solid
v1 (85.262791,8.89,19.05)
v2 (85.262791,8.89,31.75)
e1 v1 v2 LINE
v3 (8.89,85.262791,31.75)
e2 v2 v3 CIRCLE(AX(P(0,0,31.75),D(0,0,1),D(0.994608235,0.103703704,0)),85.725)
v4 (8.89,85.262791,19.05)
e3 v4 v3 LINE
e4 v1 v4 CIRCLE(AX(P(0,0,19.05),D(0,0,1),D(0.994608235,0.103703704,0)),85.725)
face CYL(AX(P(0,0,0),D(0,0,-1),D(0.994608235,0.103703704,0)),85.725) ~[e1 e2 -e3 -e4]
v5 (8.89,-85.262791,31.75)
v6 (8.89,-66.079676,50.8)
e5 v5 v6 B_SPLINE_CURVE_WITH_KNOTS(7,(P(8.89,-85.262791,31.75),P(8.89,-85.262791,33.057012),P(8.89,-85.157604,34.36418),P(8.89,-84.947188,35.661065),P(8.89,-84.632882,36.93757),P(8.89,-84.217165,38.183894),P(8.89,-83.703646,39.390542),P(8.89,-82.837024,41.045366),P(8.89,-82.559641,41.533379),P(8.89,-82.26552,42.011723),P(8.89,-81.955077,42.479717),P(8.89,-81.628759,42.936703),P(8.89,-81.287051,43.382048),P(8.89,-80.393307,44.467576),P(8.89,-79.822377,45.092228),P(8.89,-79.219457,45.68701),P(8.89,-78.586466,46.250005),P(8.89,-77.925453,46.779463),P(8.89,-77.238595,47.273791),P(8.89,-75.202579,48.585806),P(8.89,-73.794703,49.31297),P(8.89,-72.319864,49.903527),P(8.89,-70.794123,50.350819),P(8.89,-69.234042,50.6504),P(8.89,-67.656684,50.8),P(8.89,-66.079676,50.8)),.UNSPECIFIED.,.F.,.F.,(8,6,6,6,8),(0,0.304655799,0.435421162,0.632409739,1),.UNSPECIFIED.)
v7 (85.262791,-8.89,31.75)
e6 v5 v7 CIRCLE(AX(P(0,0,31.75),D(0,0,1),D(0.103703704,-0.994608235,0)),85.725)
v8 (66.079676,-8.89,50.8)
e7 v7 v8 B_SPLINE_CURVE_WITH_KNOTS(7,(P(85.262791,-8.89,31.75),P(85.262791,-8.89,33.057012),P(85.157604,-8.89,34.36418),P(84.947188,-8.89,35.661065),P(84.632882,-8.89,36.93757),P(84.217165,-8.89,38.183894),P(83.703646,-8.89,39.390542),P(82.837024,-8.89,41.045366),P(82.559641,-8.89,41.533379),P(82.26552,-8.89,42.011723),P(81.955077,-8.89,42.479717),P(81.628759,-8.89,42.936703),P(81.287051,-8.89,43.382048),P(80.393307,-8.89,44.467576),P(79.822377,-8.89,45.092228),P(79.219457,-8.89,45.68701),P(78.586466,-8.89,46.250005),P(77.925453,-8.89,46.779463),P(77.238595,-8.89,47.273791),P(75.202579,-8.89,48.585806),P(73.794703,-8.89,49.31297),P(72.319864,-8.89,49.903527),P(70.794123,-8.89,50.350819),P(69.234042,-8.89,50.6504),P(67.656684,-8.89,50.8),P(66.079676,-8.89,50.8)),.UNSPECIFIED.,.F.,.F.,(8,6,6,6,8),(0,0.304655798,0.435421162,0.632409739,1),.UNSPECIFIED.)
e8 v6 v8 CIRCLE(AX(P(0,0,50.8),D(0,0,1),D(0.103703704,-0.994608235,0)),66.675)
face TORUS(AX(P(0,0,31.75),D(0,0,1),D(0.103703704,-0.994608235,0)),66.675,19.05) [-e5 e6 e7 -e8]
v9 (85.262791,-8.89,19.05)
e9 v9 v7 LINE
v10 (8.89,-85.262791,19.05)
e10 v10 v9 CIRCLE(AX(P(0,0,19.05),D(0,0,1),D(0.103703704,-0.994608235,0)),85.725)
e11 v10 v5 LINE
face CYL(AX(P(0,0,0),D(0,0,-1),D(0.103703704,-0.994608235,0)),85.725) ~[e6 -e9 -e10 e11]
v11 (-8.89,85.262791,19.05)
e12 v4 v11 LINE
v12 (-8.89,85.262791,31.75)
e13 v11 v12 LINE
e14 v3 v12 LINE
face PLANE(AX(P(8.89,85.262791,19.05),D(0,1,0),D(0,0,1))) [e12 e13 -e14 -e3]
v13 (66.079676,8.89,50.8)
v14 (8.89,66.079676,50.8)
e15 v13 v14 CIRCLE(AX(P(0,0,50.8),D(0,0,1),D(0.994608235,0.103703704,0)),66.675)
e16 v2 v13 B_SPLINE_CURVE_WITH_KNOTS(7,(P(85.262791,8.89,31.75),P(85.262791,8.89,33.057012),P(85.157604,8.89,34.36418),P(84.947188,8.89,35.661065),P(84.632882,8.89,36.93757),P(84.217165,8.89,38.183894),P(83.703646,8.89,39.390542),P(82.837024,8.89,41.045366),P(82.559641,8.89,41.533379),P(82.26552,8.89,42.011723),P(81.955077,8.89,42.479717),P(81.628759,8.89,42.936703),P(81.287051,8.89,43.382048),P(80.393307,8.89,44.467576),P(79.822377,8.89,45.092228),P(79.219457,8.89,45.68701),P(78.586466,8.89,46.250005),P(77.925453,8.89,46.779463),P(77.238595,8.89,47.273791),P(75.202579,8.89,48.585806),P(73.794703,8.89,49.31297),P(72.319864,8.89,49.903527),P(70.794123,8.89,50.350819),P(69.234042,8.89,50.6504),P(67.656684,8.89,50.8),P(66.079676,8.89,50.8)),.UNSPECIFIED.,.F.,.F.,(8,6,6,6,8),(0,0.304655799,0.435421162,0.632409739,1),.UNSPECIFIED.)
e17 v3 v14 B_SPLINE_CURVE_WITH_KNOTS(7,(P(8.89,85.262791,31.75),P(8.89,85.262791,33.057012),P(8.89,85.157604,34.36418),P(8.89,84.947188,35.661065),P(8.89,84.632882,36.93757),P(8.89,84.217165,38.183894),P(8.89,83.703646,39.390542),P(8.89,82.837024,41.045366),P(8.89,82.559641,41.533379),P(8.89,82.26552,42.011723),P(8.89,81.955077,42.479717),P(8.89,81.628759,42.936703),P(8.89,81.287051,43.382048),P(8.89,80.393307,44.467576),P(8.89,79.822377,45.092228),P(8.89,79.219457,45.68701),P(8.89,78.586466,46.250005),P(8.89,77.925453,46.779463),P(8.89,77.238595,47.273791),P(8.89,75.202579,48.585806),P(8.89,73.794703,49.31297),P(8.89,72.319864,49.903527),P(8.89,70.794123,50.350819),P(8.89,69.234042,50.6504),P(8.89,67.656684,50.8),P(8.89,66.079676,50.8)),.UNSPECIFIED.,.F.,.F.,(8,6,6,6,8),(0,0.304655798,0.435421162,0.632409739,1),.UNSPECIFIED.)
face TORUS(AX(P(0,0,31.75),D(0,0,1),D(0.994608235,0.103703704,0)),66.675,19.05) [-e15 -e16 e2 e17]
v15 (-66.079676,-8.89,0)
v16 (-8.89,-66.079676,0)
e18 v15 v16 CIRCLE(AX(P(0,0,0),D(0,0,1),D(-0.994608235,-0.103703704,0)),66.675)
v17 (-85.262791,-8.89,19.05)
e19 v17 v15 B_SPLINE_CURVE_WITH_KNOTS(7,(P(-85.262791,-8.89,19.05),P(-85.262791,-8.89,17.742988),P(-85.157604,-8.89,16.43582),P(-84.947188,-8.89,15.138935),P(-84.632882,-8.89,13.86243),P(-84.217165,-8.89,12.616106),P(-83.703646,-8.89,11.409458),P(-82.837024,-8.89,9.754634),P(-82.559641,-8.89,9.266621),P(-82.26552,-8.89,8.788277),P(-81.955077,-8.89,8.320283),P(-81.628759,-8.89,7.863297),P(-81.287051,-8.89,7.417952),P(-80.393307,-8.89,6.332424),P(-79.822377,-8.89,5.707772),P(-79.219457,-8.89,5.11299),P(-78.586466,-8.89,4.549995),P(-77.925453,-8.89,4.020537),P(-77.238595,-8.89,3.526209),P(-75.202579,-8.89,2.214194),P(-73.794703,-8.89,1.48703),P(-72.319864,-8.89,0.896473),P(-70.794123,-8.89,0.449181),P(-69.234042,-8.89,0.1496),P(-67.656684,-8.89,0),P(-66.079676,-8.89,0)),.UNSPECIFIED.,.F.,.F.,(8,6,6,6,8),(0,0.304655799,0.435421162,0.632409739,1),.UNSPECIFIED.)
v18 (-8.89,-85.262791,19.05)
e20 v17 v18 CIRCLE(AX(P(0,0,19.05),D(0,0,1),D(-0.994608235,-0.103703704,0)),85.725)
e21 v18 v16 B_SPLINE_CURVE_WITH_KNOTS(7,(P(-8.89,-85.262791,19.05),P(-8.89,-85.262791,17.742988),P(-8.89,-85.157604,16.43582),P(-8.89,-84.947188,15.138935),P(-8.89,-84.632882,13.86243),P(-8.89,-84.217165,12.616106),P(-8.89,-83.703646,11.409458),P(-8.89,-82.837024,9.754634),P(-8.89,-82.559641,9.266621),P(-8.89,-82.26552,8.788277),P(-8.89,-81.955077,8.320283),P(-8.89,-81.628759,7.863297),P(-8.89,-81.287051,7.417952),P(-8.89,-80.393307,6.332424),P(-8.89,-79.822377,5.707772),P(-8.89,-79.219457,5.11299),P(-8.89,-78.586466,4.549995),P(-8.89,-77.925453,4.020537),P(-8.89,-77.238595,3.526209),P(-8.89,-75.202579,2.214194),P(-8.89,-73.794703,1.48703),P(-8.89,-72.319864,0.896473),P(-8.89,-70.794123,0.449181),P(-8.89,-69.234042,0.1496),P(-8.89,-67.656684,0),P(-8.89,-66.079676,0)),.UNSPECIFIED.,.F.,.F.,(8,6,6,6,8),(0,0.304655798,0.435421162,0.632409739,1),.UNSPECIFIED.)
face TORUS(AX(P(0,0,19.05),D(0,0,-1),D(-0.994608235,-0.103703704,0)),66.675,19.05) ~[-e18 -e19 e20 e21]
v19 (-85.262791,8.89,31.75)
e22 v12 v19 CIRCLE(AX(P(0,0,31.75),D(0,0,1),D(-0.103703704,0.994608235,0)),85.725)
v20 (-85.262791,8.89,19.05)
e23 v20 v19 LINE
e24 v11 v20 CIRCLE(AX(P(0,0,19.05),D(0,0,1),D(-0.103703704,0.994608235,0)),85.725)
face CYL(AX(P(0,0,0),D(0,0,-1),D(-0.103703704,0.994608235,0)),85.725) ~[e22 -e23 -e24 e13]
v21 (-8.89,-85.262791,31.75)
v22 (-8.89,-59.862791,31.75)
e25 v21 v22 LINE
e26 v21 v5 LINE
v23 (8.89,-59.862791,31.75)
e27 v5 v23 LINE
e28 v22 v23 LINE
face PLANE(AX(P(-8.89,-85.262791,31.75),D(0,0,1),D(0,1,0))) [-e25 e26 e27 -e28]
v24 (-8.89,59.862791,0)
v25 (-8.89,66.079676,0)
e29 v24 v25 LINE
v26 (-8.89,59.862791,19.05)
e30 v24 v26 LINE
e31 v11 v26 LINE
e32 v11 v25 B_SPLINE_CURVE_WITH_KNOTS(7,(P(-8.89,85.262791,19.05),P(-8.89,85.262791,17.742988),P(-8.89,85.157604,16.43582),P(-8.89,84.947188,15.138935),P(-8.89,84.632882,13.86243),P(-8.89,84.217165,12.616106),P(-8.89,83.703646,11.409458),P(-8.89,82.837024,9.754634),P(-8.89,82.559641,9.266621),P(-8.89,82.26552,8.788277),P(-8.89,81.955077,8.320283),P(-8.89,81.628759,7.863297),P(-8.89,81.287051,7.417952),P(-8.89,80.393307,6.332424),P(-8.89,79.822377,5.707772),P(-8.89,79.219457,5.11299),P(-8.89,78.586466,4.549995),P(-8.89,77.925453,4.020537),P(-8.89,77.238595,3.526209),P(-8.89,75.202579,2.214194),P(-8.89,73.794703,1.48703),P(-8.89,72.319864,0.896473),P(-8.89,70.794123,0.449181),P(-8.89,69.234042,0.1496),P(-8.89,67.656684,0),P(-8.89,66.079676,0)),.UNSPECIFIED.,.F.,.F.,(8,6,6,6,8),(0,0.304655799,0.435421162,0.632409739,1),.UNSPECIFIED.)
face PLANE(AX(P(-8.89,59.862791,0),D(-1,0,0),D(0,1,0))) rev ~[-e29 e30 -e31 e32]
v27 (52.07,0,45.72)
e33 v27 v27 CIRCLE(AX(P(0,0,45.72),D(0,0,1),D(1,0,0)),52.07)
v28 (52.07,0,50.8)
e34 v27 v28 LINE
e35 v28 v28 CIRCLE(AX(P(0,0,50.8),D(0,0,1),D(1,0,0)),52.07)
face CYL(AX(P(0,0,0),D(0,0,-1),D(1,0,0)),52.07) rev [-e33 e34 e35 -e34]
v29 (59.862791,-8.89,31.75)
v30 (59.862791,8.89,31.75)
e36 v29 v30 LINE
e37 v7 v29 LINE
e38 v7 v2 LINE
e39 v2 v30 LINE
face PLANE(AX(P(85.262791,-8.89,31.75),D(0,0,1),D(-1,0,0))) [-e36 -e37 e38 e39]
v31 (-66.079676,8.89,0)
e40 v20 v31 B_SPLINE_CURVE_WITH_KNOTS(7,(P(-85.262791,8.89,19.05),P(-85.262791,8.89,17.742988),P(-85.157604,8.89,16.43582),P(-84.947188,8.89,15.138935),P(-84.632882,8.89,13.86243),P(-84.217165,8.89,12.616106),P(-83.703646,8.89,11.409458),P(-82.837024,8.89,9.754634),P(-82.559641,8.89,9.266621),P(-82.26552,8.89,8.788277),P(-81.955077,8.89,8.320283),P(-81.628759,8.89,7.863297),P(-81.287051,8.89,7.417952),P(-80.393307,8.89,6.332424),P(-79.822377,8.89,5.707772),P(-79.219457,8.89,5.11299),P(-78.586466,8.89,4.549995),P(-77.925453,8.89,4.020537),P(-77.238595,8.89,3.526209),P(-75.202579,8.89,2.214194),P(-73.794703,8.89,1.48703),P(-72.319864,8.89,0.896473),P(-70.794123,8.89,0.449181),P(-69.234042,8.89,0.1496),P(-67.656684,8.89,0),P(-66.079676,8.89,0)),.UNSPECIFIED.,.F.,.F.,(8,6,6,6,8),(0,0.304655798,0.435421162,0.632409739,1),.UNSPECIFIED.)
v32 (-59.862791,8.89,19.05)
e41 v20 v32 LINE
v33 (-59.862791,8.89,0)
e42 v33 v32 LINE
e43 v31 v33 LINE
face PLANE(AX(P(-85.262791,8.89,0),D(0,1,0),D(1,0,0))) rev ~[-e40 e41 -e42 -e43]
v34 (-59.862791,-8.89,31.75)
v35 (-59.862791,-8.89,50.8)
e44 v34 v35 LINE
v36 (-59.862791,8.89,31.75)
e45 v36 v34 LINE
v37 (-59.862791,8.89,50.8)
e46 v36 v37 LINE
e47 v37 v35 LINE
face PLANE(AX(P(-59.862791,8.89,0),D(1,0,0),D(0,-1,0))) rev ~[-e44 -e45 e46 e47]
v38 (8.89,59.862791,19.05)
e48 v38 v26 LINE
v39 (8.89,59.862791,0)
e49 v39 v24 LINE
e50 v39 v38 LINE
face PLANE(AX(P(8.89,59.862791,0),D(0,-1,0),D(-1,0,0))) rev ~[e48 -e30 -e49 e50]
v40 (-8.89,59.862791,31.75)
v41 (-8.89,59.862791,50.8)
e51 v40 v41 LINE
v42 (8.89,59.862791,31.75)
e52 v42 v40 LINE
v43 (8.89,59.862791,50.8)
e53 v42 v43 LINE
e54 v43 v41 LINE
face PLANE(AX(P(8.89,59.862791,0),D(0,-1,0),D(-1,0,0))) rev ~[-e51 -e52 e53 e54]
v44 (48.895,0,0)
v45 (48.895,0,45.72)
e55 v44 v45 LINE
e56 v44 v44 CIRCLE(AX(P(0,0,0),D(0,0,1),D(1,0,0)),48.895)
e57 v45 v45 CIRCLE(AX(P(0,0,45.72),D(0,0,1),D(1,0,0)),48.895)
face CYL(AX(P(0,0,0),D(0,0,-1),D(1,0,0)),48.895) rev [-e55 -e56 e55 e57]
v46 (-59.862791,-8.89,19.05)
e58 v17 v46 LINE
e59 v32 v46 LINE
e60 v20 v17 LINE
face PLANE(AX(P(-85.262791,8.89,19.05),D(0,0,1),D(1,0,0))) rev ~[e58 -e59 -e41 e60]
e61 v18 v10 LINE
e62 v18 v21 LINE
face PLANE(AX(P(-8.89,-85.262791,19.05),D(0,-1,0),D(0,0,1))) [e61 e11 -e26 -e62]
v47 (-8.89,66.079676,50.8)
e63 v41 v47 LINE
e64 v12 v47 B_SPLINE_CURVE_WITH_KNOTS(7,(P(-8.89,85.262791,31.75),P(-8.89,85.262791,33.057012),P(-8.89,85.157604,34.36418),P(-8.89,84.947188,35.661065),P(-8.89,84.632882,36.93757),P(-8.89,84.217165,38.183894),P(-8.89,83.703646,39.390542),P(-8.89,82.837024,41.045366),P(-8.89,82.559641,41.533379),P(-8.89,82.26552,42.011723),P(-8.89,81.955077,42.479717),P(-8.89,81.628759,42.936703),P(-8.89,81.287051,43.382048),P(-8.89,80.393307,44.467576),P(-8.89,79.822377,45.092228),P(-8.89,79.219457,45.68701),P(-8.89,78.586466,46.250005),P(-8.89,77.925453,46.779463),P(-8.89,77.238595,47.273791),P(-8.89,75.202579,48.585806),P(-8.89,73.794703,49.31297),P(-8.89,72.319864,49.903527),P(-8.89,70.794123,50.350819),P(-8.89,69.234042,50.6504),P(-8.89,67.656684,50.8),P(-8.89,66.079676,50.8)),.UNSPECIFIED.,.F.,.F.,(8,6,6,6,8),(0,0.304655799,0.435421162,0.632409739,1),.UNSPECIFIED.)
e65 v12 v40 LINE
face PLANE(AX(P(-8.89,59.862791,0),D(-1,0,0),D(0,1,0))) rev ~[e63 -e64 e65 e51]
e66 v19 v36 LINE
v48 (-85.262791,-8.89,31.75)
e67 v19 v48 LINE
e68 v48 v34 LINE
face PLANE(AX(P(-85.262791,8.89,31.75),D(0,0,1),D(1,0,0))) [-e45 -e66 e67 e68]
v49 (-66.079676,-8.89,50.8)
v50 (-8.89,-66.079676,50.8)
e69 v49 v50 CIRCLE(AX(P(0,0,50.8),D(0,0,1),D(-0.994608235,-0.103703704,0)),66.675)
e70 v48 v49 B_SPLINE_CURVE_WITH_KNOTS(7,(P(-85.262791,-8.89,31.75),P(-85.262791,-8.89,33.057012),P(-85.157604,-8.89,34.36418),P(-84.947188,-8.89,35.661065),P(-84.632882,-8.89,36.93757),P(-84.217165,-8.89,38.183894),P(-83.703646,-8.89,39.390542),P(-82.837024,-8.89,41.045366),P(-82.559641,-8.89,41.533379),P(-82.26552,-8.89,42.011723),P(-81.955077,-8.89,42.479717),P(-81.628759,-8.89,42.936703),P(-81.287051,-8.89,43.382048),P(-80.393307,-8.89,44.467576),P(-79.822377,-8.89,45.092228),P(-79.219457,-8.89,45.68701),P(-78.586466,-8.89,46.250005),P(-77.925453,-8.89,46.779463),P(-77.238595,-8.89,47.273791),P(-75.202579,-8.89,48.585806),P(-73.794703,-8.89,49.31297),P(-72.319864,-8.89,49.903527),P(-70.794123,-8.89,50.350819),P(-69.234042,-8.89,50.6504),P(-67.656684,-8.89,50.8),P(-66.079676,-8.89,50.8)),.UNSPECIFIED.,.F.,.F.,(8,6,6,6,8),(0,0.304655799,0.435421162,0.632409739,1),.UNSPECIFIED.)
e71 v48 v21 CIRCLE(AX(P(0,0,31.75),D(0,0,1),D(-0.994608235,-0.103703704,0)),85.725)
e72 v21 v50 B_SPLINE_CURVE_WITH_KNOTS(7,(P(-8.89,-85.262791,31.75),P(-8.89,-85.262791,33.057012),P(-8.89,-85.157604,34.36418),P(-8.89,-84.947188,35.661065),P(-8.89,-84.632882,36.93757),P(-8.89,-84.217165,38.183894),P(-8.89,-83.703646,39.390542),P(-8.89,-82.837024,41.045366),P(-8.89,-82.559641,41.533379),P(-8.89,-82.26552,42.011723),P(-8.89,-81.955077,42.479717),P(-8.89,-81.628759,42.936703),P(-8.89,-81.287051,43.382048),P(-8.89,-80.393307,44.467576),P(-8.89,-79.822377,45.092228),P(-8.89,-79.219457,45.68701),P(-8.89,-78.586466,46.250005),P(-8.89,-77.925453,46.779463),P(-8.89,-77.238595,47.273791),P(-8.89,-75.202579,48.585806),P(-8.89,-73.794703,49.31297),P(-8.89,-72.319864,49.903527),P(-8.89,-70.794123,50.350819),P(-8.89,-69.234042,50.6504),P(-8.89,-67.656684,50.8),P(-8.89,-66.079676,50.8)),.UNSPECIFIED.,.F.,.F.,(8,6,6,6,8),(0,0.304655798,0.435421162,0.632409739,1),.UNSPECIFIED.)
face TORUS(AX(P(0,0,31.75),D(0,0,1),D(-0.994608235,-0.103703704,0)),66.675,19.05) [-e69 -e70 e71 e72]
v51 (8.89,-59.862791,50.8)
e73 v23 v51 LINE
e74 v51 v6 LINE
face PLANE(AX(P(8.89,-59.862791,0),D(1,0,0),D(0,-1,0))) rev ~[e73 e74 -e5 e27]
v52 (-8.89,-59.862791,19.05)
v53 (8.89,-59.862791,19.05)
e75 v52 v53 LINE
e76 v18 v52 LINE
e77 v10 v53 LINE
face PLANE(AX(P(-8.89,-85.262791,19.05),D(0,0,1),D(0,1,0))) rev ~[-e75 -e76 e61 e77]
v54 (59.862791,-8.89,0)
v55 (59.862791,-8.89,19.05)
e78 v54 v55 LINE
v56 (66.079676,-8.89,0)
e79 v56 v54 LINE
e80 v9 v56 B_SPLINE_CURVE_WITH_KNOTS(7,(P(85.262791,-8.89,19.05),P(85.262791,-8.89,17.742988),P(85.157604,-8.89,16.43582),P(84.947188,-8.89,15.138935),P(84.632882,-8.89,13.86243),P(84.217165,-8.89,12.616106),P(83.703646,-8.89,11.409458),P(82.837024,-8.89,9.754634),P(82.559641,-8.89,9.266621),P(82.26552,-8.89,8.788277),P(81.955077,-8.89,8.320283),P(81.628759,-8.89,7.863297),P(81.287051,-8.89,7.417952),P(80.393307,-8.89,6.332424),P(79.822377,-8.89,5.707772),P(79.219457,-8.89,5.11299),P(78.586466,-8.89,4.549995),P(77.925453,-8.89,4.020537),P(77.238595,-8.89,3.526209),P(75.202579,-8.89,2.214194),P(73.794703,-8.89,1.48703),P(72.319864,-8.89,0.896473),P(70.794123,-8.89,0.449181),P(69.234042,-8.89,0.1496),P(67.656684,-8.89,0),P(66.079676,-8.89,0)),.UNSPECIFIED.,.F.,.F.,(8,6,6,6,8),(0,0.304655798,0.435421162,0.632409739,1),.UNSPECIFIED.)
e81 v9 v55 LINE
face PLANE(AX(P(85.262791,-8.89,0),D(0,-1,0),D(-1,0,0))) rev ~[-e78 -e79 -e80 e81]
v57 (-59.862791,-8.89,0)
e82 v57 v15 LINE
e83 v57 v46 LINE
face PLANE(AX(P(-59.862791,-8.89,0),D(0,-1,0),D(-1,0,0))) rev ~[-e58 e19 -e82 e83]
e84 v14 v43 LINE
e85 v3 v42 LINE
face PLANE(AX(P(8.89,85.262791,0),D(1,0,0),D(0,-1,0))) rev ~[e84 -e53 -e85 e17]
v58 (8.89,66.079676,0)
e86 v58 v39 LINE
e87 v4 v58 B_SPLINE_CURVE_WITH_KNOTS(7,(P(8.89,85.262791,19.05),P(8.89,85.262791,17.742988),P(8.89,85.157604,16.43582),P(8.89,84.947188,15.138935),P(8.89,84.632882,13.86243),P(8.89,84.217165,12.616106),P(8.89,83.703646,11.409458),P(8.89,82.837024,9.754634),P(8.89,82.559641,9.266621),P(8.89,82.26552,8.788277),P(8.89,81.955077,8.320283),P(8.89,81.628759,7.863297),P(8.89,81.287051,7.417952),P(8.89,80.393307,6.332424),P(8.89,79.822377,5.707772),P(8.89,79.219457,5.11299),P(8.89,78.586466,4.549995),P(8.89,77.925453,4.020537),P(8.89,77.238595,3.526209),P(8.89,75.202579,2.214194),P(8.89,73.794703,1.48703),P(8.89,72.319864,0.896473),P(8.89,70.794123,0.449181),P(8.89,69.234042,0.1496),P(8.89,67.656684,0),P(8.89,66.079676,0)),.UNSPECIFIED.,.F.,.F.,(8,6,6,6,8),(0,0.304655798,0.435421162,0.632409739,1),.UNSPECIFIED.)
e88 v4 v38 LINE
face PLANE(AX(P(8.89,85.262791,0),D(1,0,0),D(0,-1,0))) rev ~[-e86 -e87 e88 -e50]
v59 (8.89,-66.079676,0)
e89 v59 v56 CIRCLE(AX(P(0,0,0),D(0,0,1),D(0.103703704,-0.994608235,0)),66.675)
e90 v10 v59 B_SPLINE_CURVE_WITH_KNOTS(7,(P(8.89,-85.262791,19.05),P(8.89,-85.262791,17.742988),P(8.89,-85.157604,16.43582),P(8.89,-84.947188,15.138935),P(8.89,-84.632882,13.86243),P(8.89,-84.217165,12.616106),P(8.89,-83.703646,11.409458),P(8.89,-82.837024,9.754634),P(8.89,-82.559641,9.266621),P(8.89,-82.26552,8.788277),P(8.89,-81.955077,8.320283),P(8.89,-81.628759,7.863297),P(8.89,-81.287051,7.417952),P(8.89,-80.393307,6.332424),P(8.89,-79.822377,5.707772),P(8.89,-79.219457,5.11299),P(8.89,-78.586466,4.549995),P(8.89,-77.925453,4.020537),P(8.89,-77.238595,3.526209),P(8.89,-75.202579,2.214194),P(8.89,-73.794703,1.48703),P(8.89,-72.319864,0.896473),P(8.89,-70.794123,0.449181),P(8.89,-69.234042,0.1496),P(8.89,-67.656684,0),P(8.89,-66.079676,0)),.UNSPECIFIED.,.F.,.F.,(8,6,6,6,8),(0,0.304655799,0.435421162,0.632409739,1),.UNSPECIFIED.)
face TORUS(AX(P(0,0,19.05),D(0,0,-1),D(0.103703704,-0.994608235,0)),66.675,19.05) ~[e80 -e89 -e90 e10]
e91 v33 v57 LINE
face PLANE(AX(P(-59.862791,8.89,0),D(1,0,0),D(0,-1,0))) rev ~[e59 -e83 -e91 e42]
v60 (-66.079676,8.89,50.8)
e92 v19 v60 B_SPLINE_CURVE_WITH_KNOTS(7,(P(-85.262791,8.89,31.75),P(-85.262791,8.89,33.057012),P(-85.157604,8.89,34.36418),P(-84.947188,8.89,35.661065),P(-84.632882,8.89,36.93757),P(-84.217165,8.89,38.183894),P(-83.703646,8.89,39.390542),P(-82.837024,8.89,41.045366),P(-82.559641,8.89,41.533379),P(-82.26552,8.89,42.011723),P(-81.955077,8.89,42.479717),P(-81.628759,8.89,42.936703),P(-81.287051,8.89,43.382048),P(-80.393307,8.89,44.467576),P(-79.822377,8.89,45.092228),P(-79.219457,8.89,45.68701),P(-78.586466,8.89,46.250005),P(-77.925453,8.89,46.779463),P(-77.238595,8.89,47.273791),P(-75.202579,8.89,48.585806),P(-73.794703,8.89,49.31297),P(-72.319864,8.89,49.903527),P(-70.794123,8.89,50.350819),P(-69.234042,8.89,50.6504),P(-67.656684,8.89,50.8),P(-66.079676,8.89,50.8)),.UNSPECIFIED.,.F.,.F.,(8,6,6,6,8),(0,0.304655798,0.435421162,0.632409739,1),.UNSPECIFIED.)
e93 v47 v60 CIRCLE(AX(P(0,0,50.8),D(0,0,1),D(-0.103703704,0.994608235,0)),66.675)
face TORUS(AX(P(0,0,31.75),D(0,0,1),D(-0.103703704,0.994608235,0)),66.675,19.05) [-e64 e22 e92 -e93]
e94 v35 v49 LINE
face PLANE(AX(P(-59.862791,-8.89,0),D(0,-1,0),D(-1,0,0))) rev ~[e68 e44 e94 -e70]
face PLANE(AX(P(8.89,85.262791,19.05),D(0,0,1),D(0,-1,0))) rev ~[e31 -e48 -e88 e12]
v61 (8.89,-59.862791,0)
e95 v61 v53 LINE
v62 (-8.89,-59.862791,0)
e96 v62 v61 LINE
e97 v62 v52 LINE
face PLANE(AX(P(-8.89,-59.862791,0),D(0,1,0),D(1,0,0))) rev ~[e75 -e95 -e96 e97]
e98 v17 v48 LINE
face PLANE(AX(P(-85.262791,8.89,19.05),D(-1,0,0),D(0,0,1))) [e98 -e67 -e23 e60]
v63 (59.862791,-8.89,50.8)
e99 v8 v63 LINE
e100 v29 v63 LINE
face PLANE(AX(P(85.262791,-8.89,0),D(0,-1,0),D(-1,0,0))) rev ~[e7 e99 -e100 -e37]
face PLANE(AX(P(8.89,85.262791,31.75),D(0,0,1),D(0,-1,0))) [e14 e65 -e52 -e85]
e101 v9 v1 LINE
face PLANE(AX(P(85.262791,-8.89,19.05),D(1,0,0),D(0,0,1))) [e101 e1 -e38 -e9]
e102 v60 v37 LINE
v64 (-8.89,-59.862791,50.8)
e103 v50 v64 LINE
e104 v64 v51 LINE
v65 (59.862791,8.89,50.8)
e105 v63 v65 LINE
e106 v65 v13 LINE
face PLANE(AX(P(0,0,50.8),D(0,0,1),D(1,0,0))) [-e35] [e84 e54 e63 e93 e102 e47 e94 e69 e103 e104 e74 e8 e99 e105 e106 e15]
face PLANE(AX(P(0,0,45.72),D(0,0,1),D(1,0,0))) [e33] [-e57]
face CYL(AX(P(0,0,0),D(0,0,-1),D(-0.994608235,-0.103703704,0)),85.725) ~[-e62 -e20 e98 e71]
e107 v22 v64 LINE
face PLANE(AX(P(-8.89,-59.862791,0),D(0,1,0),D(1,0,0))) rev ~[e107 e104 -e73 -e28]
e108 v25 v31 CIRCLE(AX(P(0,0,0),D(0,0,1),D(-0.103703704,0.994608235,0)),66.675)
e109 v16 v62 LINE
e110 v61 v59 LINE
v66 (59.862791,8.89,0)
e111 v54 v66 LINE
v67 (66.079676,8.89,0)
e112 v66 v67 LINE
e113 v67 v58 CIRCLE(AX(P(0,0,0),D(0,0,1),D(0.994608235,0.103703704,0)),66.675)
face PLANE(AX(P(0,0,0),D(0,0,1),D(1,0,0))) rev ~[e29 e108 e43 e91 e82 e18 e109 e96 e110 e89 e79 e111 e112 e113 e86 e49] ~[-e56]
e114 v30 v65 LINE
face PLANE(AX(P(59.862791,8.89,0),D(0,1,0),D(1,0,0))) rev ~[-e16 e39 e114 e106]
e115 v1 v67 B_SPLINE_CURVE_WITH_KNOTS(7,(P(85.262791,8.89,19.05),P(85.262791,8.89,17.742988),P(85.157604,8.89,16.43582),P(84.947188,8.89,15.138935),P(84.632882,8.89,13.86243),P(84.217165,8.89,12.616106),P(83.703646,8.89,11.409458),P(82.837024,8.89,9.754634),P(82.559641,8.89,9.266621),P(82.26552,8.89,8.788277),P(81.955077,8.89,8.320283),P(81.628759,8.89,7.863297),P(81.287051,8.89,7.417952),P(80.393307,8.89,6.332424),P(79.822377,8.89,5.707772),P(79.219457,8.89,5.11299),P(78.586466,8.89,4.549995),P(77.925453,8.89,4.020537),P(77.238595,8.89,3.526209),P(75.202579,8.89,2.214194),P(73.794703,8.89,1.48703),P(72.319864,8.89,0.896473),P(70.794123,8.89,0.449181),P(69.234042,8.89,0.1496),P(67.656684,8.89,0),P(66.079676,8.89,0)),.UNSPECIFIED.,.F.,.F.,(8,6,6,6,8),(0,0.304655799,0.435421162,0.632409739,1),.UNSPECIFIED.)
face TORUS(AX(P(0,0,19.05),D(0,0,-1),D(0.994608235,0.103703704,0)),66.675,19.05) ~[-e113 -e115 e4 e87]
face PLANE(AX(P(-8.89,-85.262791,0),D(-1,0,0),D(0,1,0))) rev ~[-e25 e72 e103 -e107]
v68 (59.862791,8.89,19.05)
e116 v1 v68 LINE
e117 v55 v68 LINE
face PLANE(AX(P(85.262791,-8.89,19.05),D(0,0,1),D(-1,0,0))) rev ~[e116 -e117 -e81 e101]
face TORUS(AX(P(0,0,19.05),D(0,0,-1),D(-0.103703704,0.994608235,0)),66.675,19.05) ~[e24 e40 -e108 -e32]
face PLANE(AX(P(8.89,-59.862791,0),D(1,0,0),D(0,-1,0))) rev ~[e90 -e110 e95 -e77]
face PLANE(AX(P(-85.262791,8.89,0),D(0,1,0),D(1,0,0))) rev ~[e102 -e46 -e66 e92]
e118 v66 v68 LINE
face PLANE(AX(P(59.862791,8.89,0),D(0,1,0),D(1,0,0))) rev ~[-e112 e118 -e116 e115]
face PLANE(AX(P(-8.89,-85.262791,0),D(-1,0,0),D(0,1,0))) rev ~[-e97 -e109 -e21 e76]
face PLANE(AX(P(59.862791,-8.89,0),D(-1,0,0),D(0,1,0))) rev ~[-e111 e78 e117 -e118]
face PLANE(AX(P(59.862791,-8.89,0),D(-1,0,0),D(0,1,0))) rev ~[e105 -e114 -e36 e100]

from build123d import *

# Parameters (mm, degrees)
F0_R      = 52.07
F1_DEPTH  = 50.8
F2_R      = 19.05
F5_W      = 25.4
F5_H      = 12.7
F7_DEPTH  = 17.78
F6_W      = 25.4
F6_H      = 12.7
F8_DEPTH  = 17.78
F4_W      = 25.4
F4_H      = 12.7
F9_DEPTH  = 17.78
F3_W      = 25.4
F3_H      = 12.7
F10_DEPTH = 17.78
F0_R_2    = 48.895
F11_DEPTH = 45.72


with BuildPart() as f1:
    # F0 (on Top) → F1 (new body)
    with BuildSketch(Plane.XY):
        with BuildLine():
            Line((59.8627909759, 8.89), (85.2627909759, 8.89))
            ThreePointArc((85.2627909759, 8.89), (60.6167288172, 60.6167288172), (8.89, 85.2627909759))
            Line((8.89, 85.2627909759), (8.89, 59.8627909759))
            Line((8.89, 59.8627909759), (-8.89, 59.8627909759))
            Line((-8.89, 59.8627909759), (-8.89, 85.2627909759))
            ThreePointArc((-8.89, 85.2627909759), (-60.6167288172, 60.6167288172), (-85.2627909759, 8.89))
            Line((-85.2627909759, 8.89), (-59.8627909759, 8.89))
            Line((-59.8627909759, 8.89), (-59.8627909759, -8.89))
            Line((-59.8627909759, -8.89), (-85.2627909759, -8.89))
            ThreePointArc((-85.2627909759, -8.89), (-60.6167288172, -60.6167288172), (-8.89, -85.2627909759))
            Line((-8.89, -85.2627909759), (-8.89, -59.8627909759))
            Line((-8.89, -59.8627909759), (8.89, -59.8627909759))
            Line((8.89, -59.8627909759), (8.89, -85.2627909759))
            ThreePointArc((8.89, -85.2627909759), (60.6167288172, -60.6167288172), (85.2627909759, -8.89))
            Line((85.2627909759, -8.89), (59.8627909759, -8.89))
            Line((59.8627909759, -8.89), (59.8627909759, 8.89))
        make_face()
        Circle(F0_R, mode=Mode.SUBTRACT)
    extrude(amount=F1_DEPTH)

    # F2
    f2_edges = [f1.edges().sort_by_distance(p)[0] for p in [
        (-60.616729, -60.616729, 50.8),
        (60.616729, -60.616729, 50.8),
        (60.616729, 60.616729, 50.8),
        (-60.616729, 60.616729, 50.8),
        (60.616729, -60.616729, 0),
        (60.616729, 60.616729, 0),
        (-60.616729, -60.616729, 0),
        (-60.616729, 60.616729, 0),
    ]]
    fillet(f2_edges, radius=F2_R)

    # F5 (on face) → F7 (join)
    with BuildSketch(Plane(origin=(0, -8.89, 0), x_dir=(-1, 0, 0), z_dir=(0, 1, 0))):
        with Locations((-72.5627909759, 25.4)):
            Rectangle(F5_W, F5_H)
    extrude(amount=F7_DEPTH)

    # F6 (on face) → F8 (join)
    with BuildSketch(Plane(origin=(8.89, 0, 0), x_dir=(0, -1, 0), z_dir=(-1, 0, 0))):
        with Locations((-72.5627909759, 25.4)):
            Rectangle(F6_W, F6_H)
    extrude(amount=F8_DEPTH)

    # F4 (on face) → F9 (join)
    with BuildSketch(Plane.XZ.offset(-8.89)):
        with Locations((-72.5627909759, 25.4)):
            Rectangle(F4_W, F4_H)
    extrude(amount=F9_DEPTH)

    # F3 (on face) → F10 (join)
    with BuildSketch(Plane.YZ.offset(-8.89)):
        with Locations((-72.5627909759, 25.4)):
            Rectangle(F3_W, F3_H)
    extrude(amount=F10_DEPTH)

    # F0 (on Top) → F11 (join)
    with BuildSketch(Plane.XY):
        Circle(F0_R)
        Circle(F0_R_2, mode=Mode.SUBTRACT)
    extrude(amount=F11_DEPTH)


solid = f1.part
